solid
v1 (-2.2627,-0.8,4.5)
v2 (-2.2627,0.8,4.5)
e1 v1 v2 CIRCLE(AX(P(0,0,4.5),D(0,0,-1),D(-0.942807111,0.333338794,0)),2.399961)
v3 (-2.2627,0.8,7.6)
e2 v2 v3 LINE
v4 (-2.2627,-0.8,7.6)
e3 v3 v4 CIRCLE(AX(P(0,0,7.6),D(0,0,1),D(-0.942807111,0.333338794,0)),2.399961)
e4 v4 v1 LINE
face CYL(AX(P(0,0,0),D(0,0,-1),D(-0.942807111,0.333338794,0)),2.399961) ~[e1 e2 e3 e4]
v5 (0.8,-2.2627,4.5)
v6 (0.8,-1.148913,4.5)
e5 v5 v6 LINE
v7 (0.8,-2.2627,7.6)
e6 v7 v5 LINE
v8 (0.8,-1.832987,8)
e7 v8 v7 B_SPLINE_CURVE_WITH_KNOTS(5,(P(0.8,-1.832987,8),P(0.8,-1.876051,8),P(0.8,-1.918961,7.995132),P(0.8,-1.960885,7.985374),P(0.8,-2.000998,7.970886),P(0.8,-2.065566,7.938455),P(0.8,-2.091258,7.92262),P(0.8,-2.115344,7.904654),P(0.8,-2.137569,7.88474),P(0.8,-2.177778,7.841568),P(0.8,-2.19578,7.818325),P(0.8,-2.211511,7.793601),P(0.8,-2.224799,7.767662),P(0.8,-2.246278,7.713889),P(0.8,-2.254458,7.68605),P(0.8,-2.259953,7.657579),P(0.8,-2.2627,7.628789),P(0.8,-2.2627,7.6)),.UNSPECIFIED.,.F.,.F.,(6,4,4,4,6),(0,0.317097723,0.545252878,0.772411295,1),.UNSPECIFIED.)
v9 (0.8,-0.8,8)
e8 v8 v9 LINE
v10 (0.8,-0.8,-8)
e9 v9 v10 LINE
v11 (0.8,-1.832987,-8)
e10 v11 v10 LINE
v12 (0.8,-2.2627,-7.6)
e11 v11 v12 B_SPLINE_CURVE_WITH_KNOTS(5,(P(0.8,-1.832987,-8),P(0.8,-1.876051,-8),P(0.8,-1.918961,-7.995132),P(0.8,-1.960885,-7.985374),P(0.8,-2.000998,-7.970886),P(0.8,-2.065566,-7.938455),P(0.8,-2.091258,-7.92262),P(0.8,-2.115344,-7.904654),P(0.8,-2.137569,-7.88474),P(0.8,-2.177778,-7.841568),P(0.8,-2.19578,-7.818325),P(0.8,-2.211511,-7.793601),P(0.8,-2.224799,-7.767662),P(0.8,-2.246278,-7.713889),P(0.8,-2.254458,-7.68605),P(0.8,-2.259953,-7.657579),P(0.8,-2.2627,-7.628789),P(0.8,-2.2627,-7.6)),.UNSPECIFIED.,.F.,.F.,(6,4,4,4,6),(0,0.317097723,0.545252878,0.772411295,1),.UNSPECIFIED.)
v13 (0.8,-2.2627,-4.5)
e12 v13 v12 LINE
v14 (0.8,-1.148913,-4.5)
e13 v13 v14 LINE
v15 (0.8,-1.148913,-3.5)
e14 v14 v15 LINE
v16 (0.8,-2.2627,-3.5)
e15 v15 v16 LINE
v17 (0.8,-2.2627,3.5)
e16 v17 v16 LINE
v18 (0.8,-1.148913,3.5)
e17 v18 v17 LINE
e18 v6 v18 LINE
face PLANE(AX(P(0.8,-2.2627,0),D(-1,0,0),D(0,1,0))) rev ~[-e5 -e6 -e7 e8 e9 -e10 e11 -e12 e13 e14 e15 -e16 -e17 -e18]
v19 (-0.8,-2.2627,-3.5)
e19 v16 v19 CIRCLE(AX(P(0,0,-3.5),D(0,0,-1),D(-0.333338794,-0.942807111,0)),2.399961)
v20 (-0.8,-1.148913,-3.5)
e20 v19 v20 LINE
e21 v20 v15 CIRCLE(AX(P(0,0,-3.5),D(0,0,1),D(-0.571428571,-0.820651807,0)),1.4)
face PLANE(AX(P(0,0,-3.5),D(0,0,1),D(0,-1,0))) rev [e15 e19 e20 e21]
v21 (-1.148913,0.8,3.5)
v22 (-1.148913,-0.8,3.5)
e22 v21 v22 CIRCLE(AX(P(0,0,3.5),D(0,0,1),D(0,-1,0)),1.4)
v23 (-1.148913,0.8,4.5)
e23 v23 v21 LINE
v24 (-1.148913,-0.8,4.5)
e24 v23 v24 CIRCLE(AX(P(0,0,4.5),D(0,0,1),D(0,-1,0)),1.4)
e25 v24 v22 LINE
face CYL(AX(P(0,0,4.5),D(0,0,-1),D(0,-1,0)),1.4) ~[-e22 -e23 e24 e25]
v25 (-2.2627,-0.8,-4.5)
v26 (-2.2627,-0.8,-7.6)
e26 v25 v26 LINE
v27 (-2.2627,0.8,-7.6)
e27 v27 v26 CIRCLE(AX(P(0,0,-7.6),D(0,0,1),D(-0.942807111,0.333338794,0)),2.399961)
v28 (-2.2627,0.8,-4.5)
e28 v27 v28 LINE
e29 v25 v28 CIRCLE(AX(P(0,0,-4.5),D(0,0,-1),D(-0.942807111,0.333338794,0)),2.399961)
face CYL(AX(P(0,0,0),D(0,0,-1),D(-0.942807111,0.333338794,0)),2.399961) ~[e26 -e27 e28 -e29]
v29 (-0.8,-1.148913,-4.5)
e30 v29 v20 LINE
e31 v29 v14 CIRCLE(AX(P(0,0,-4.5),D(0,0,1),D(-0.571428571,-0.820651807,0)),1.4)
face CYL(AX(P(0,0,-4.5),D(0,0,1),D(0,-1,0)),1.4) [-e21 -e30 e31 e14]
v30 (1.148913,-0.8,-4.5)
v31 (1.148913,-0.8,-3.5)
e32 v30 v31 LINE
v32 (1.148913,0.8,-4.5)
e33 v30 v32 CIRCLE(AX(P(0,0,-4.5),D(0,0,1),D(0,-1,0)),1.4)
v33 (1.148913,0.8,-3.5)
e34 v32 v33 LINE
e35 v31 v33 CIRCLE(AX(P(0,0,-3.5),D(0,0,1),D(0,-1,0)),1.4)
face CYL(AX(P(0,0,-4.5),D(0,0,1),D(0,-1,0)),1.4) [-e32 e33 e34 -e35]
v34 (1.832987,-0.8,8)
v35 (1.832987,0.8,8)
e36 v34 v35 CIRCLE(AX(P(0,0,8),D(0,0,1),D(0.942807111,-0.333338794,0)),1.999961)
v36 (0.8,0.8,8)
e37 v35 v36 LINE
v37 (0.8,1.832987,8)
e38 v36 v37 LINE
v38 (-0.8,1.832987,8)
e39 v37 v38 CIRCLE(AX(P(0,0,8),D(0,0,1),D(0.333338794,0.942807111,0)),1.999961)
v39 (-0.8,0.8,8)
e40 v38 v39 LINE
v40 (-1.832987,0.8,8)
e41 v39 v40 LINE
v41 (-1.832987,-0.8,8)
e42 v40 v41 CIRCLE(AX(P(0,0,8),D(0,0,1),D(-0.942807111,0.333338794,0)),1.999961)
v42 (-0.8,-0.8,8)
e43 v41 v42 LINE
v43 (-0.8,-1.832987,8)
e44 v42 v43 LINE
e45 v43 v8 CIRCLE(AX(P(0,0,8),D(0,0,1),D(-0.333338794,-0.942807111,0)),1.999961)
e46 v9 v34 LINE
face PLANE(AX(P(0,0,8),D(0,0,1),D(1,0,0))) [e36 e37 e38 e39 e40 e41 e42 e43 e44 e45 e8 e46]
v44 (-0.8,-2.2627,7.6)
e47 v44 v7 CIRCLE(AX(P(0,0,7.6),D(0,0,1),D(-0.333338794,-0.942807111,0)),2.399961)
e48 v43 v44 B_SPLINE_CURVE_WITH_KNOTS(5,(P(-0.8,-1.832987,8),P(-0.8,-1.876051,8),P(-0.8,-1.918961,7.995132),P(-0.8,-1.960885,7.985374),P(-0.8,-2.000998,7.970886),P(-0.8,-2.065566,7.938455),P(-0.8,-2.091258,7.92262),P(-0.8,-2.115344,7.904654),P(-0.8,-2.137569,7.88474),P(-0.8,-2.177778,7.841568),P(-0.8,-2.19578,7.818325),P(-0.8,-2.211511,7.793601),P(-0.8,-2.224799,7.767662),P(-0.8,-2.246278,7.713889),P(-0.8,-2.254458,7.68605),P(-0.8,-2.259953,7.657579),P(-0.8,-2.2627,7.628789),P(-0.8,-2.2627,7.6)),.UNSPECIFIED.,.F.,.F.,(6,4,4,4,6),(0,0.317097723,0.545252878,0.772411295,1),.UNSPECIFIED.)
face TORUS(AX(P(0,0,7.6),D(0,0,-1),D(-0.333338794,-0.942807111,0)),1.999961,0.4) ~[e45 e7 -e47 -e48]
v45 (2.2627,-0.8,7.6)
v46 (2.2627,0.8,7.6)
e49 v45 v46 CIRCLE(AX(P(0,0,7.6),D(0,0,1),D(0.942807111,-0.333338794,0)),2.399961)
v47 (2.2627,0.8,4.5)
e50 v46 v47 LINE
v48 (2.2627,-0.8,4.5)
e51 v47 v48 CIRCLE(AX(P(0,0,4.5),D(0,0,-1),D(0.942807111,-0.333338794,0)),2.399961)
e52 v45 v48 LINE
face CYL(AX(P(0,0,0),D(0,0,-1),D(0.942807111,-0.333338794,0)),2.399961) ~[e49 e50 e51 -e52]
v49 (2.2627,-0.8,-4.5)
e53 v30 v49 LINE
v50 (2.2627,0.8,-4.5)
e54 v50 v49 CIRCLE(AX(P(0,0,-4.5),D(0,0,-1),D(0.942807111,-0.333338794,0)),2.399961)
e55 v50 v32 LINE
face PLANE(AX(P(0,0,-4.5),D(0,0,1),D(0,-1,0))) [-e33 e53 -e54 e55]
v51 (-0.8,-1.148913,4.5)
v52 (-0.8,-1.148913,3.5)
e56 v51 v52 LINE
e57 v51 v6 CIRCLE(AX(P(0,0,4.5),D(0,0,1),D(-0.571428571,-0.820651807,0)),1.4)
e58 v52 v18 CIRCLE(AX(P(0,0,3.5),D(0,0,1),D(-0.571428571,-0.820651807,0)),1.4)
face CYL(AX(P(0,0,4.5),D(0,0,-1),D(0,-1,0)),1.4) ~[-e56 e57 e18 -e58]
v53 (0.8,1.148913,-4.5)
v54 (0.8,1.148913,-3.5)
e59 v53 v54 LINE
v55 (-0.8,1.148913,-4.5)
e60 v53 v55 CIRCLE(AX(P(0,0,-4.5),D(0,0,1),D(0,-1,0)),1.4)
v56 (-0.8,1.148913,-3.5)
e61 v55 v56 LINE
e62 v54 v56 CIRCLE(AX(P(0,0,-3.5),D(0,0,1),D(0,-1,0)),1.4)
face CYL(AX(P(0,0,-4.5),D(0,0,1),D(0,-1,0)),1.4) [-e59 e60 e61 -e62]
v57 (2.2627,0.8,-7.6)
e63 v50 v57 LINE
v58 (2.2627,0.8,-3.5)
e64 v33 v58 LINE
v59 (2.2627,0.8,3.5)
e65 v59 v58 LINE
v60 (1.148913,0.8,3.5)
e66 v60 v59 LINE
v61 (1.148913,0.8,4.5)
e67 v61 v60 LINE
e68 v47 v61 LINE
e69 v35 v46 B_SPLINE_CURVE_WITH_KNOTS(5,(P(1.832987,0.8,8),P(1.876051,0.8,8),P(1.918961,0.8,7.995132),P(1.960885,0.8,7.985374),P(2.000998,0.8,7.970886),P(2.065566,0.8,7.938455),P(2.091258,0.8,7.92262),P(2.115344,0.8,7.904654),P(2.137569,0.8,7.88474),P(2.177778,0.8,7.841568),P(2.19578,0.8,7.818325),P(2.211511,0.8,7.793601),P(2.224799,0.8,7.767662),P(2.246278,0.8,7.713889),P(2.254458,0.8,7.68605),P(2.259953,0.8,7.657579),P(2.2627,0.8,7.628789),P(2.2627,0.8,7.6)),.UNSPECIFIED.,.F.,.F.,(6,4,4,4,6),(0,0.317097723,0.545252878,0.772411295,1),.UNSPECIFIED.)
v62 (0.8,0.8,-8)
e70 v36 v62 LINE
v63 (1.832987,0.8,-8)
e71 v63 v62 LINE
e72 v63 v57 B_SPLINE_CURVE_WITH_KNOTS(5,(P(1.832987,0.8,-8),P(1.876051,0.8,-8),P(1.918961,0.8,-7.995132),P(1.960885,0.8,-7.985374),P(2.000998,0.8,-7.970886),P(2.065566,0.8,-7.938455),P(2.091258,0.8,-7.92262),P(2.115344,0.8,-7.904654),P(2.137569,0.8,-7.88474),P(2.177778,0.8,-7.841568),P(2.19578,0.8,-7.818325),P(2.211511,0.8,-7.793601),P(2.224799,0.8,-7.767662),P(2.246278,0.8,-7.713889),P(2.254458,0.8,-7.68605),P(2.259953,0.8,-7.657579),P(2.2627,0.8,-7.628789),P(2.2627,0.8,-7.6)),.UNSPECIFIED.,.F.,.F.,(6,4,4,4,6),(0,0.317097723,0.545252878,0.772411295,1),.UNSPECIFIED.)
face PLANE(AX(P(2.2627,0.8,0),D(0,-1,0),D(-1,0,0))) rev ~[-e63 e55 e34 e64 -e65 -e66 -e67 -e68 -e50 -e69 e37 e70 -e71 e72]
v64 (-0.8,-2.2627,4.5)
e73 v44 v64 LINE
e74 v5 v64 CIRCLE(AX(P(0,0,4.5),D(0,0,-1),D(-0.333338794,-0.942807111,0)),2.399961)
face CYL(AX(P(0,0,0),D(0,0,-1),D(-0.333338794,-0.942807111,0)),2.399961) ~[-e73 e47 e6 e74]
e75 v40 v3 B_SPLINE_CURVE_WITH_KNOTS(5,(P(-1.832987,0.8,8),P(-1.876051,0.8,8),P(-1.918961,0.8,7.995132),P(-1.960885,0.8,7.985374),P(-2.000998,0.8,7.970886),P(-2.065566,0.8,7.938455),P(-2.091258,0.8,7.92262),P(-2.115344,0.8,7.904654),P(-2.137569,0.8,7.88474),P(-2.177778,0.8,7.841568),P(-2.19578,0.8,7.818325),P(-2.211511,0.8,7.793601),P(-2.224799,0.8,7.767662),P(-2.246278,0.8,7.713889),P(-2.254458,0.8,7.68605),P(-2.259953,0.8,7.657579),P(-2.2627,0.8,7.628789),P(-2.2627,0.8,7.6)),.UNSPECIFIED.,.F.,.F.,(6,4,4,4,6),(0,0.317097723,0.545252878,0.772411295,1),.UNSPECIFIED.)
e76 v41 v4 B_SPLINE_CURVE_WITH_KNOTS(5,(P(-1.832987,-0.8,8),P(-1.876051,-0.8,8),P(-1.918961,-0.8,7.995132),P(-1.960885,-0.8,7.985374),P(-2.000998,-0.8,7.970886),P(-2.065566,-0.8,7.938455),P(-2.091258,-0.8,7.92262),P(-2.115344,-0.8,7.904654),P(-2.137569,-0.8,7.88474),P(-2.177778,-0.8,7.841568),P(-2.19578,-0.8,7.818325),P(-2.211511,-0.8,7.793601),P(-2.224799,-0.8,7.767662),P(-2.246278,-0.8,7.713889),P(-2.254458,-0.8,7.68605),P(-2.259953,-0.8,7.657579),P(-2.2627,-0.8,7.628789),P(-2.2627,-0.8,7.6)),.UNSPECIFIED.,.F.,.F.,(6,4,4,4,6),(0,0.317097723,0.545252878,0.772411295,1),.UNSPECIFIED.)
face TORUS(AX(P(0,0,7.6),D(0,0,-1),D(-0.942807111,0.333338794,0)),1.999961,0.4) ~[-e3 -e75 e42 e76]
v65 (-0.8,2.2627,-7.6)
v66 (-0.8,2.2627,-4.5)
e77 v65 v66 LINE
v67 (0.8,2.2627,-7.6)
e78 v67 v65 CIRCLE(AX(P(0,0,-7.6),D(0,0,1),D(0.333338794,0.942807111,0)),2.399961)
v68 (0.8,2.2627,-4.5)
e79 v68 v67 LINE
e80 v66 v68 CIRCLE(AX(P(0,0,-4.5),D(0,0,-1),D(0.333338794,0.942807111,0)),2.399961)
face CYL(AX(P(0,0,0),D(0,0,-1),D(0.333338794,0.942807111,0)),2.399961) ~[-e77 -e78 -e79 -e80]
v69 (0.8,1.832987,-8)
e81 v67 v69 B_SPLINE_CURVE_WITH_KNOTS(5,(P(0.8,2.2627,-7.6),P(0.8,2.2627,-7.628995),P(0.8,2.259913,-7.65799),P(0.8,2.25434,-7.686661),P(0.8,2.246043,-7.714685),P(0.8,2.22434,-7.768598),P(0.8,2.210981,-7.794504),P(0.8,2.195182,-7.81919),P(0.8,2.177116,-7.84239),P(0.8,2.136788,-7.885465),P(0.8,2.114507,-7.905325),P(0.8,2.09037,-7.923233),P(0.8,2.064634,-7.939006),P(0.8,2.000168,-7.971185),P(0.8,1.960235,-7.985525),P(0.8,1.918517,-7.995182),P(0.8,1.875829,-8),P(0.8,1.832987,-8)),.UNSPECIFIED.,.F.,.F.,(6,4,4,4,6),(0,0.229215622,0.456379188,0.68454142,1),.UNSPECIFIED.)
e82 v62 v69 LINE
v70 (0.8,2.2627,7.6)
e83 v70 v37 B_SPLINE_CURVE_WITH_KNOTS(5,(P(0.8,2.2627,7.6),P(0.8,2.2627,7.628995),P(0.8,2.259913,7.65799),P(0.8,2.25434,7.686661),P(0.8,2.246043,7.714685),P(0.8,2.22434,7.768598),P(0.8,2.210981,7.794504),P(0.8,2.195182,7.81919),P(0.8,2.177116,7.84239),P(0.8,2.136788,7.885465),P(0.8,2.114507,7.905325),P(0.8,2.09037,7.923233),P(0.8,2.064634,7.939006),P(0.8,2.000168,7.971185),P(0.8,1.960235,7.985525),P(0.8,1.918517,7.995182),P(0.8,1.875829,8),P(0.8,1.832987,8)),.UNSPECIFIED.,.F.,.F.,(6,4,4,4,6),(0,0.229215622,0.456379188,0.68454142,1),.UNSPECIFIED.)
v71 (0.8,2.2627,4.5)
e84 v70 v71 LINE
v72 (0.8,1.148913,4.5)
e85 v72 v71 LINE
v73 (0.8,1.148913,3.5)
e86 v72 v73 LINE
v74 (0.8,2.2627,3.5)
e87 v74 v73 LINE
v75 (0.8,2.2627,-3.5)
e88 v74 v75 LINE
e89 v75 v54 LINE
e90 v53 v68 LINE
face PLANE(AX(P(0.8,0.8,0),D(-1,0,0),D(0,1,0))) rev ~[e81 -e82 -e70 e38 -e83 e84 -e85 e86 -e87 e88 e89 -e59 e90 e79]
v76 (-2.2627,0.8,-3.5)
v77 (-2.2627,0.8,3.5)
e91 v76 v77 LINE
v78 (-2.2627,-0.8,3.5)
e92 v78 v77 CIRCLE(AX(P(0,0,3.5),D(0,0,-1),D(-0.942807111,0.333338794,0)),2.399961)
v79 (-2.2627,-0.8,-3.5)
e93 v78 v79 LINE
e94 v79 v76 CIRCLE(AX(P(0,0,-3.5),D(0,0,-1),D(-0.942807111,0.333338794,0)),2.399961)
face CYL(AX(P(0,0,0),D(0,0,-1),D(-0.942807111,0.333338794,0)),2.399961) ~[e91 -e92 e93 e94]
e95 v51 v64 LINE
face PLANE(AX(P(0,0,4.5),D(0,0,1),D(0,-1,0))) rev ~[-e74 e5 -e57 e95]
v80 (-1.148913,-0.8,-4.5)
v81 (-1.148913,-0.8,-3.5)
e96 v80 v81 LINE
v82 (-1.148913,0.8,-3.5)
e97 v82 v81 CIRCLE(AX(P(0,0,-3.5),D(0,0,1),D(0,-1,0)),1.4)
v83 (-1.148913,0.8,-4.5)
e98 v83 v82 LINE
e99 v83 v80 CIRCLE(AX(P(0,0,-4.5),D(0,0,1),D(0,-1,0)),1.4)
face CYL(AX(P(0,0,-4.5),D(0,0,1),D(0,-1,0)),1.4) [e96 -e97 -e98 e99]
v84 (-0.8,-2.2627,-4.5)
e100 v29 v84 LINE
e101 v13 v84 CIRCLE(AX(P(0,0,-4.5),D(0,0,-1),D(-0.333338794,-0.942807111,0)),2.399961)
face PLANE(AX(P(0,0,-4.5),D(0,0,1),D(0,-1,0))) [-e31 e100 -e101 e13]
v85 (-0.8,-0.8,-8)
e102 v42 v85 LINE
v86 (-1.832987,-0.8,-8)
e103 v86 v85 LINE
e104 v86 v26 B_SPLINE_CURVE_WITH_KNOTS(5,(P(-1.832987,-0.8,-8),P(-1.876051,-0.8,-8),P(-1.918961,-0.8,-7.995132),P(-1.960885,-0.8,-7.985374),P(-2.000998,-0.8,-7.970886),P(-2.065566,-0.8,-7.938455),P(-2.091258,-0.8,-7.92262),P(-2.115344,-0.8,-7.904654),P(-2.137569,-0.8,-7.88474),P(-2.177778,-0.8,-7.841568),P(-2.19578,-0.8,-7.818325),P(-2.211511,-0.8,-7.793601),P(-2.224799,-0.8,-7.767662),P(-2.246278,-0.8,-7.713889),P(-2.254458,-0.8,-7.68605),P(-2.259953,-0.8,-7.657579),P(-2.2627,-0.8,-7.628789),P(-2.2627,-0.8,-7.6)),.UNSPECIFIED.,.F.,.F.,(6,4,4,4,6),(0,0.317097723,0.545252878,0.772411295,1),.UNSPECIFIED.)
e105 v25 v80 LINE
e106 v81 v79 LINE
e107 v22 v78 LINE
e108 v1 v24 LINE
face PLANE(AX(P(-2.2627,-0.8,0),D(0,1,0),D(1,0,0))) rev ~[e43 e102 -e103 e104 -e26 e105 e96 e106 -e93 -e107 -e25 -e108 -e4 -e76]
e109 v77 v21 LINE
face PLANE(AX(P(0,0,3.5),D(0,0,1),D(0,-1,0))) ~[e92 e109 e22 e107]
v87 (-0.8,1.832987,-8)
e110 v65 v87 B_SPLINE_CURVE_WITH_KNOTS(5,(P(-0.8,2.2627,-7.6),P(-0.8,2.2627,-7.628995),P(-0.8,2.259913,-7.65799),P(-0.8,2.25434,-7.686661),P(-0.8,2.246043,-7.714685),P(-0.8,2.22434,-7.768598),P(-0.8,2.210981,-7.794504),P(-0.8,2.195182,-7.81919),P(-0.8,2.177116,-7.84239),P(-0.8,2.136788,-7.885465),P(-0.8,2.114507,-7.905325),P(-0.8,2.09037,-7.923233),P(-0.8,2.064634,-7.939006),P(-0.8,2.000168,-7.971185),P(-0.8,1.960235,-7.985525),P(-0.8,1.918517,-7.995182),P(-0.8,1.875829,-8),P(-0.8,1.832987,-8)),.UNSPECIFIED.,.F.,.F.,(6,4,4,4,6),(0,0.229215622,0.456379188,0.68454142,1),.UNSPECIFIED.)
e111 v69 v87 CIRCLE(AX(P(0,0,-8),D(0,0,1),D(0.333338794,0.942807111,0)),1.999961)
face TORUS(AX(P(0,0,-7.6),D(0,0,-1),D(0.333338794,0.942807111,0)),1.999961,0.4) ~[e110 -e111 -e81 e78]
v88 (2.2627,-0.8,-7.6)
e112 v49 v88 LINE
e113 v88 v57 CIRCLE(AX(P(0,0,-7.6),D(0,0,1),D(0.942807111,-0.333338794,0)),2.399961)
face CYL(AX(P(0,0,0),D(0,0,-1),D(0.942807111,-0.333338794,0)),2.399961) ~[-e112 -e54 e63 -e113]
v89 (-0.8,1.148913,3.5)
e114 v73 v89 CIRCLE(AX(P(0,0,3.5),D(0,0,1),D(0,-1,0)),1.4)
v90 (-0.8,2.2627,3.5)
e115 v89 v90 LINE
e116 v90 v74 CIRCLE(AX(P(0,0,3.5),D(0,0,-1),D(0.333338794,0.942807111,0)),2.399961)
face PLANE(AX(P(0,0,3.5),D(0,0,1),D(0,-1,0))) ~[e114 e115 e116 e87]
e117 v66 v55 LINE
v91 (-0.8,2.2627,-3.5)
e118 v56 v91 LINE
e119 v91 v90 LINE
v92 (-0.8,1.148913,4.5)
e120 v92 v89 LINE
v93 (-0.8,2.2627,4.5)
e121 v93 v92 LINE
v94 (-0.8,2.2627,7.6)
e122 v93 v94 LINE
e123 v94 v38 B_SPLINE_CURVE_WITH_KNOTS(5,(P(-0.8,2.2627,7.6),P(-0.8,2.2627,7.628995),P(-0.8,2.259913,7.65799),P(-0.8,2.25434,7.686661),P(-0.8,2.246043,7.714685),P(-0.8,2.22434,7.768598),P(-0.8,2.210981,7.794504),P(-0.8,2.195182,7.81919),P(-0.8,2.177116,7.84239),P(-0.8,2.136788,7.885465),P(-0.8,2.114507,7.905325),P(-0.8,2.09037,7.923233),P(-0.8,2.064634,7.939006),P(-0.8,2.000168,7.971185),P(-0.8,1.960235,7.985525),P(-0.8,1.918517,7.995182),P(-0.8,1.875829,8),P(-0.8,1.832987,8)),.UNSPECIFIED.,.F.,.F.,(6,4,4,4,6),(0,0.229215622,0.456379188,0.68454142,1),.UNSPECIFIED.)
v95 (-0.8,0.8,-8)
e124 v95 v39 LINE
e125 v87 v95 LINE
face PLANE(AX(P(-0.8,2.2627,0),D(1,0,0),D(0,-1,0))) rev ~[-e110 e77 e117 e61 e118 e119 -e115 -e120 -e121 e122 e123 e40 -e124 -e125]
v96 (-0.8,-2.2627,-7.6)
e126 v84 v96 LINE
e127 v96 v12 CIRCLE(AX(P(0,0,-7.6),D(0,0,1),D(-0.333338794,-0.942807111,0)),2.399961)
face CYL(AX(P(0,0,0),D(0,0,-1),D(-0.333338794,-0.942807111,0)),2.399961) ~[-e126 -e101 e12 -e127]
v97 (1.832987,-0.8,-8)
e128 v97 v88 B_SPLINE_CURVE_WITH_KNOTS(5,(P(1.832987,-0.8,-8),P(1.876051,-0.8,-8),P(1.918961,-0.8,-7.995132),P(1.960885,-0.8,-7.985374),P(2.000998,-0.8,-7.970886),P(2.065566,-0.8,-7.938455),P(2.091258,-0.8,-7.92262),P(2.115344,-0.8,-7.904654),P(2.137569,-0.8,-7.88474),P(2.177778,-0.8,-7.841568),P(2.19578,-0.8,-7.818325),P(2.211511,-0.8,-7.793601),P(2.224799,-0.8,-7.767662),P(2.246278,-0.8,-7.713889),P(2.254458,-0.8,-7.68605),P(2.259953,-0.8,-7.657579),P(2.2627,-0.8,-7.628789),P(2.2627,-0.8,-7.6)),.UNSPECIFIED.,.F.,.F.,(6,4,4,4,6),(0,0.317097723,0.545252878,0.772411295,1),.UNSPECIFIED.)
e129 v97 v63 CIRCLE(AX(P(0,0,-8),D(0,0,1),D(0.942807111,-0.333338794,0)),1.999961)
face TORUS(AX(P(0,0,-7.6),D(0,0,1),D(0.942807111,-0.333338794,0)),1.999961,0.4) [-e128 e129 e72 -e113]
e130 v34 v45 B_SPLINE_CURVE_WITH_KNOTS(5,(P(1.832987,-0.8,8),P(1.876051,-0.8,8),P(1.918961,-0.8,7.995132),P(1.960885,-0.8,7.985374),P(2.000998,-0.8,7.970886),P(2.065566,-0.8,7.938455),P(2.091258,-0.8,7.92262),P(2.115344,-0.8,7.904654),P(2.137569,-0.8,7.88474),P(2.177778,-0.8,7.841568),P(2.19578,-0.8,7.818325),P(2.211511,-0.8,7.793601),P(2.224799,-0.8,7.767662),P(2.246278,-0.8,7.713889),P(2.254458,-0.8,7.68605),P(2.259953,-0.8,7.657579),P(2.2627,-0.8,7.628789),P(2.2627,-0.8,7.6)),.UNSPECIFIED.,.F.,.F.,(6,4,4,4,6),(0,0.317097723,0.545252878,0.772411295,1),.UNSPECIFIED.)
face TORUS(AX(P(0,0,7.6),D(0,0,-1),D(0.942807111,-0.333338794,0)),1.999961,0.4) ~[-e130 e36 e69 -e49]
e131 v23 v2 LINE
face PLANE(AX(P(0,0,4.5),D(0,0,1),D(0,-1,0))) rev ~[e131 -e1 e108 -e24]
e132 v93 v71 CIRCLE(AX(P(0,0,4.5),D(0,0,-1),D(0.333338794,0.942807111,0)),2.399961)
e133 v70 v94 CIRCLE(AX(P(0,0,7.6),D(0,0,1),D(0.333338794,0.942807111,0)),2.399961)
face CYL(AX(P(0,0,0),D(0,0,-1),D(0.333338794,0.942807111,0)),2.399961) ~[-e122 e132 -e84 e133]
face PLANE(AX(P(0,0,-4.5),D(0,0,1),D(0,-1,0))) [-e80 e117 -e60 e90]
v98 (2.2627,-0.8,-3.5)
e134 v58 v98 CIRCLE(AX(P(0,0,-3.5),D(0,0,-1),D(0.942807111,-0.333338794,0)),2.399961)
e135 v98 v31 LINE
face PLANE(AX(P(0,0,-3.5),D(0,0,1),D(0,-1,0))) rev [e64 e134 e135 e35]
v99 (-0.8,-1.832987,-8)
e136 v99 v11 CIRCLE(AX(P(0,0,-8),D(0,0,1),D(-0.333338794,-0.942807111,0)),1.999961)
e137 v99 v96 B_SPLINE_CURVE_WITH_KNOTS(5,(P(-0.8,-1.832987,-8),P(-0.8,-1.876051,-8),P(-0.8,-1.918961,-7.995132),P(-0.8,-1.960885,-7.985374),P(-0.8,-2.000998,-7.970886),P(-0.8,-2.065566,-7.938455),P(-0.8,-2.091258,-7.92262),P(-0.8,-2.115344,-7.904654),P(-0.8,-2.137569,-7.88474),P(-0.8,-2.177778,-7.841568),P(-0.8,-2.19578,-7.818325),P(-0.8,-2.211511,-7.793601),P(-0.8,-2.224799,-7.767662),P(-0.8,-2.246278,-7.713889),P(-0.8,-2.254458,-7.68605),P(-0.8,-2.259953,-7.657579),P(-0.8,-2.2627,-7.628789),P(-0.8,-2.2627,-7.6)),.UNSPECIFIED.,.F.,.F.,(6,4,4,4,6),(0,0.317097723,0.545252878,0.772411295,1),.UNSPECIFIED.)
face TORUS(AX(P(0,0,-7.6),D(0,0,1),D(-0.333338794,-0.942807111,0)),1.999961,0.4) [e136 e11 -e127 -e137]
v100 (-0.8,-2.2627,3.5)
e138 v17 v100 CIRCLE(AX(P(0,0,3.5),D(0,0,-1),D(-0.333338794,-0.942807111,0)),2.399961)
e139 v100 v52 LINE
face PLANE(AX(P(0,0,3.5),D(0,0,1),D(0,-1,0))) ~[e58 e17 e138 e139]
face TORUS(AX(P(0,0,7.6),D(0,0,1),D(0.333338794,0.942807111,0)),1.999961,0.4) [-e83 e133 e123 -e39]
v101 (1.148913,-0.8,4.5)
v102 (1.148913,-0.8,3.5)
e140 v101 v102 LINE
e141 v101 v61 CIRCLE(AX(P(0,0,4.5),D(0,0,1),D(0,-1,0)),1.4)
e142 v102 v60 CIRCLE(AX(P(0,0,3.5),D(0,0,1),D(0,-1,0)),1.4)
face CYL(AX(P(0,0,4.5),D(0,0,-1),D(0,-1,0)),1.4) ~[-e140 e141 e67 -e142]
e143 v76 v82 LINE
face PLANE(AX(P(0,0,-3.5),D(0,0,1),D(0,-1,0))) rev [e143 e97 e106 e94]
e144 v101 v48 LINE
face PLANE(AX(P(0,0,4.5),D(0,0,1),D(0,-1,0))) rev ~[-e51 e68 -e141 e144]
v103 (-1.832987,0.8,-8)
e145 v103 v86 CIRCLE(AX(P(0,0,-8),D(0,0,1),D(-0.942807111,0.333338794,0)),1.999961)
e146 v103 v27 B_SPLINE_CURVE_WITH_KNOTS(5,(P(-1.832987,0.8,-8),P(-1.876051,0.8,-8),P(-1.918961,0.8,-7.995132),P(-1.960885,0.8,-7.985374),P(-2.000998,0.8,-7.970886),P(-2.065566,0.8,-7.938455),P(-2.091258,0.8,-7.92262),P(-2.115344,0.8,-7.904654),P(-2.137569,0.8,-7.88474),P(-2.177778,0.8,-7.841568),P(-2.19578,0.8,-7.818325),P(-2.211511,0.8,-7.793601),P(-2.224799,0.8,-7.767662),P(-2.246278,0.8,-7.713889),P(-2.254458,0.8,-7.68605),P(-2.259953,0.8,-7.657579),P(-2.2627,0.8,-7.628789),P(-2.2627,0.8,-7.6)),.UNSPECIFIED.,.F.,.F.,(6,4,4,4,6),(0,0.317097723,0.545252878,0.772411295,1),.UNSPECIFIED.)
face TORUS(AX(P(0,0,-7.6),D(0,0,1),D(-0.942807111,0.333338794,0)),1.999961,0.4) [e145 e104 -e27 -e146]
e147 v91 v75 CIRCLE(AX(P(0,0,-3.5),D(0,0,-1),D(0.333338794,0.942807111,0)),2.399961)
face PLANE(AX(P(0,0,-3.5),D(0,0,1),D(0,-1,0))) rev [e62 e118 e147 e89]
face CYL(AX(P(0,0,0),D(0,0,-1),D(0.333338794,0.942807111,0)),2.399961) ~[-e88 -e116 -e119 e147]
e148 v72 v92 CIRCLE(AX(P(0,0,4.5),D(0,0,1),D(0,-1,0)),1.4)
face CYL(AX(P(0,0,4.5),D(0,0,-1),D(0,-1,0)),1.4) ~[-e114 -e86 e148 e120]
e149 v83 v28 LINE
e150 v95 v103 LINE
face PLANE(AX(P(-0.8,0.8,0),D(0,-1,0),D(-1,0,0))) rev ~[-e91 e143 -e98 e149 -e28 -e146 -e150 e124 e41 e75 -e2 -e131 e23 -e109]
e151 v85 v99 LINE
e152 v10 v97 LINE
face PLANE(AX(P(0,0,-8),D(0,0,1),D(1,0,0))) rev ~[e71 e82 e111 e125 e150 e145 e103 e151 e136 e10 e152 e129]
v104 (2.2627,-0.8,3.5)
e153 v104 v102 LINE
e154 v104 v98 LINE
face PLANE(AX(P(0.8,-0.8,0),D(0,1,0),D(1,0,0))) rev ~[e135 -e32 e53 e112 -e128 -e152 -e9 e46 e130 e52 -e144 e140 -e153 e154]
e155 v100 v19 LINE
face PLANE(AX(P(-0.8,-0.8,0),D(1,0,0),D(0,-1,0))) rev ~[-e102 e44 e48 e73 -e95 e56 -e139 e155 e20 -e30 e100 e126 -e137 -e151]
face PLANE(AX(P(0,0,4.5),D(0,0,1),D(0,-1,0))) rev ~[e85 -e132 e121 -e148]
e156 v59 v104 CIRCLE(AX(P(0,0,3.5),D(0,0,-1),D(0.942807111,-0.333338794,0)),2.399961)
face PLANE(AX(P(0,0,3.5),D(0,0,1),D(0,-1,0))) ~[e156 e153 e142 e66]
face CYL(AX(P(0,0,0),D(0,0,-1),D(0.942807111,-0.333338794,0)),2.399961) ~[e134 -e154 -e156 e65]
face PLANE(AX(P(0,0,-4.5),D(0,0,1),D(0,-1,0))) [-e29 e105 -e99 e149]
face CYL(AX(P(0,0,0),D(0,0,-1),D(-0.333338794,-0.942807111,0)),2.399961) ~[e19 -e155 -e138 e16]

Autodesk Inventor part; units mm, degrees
ref_plane "YZ Plane" through (0, 0, 0) normal (1, 0, 0) x (0, 1, 0)
ref_plane "XZ Plane" through (0, 0, 0) normal (0, 1, 0) x (-1, 0, 0)
ref_plane "XY Plane" through (0, 0, 0) normal (0, 0, 1) x (1, 0, 0)
sketch "Sketch1" plane through (0, 0, 0) normal (0, 0, 1) x (1, 0, 0)
  circle A0 centre (0, 0) radius 2.4 construction
  line L0 (-0.8, 2.2627) -> (-0.8, 0.8)
  line L1 (-0.8, 0.8) -> (-2.2627, 0.8)
  line L2 (-2.2627, -0.8) -> (-0.8, -0.8)
  line L3 (-0.8, -0.8) -> (-0.8, -2.2627)
  line L4 (0.8, -2.2627) -> (0.8, -0.8)
  line L5 (0.8, -0.8) -> (2.2627, -0.8)
  line L6 (2.2627, 0.8) -> (0.8, 0.8)
  line L7 (0.8, 0.8) -> (0.8, 2.2627)
  arc A1 (0.8, 2.2627) -> (-0.8, 2.2627) centre (0, 0) ccw
  arc A2 (-2.2627, 0.8) -> (-2.2627, -0.8) centre (0, 0) ccw
  arc A3 (-0.8, -2.2627) -> (0.8, -2.2627) centre (0, 0) ccw
  arc A4 (2.2627, -0.8) -> (2.2627, 0.8) centre (0, 0) ccw
  dimension "d0" = 4.8
  dimension "d1" = 1.6
extrude "Extrusion1" add sketch "Sketch1" along normal mid plane 16
fillet "Fillet1" radius 0.4 8 edges at (0, 2.4, 8) (-2.4, 0, 8) (0, -2.4, 8) (2.4, 0, 8) (2.4, 0, -8) (0, 2.4, -8) (-2.4, 0, -8) (0, -2.4, -8)
sketch "Sketch2" plane through (0, 0, 0) normal (1, 0, 0) x (0, 1, 0)
  line L0 (-2.4, -7.6) -> (-2.4, 7.6) projected
  line L1 (0, -10.64) -> (0, 10.64) projected
  line L2 (-2.4, 4.5) -> (-1.4, 4.5)
  line L3 (-1.4, 4.5) -> (-1.4, 3.5)
  line L4 (-1.4, 3.5) -> (-2.4, 3.5)
  line L5 (-2.4, 3.5) -> (-2.4, 4.5)
  line L6 (-2.4, -4.5) -> (-1.4, -4.5)
  line L7 (-1.4, -4.5) -> (-1.4, -3.5)
  line L8 (-1.4, -3.5) -> (-2.4, -3.5)
  line L9 (-2.4, -3.5) -> (-2.4, -4.5)
  line L10 (-1.4, 3.5) -> (-1.4, -3.5) construction
  point P0 (0, 0)
  point P1 (-2.4, 4)
  point P2 (-2.4, -4)
  point P3 (-1.4, 0)
  dimension "d7" = 8
  dimension "d8" = 1
revolve "Revolution1" cut sketch "Sketch2" angle 360 about axis through (0, 0, -10) along (0, 0, 1)
equation "\"d0\" = kd"
equation "\"d1\" = axlet"
equation "\"d2\" = 2 * lu"
equation "\"d4\" = tf"
equation "\"d7\" = lu"
equation "\"kd\" = 4.8"
equation "\"axlet\" = 1.6"
equation "\"lu\" = 8"
equation "\"tf\" = 0.4"
properties part number "32062-Red" material "ABS Plastic"
